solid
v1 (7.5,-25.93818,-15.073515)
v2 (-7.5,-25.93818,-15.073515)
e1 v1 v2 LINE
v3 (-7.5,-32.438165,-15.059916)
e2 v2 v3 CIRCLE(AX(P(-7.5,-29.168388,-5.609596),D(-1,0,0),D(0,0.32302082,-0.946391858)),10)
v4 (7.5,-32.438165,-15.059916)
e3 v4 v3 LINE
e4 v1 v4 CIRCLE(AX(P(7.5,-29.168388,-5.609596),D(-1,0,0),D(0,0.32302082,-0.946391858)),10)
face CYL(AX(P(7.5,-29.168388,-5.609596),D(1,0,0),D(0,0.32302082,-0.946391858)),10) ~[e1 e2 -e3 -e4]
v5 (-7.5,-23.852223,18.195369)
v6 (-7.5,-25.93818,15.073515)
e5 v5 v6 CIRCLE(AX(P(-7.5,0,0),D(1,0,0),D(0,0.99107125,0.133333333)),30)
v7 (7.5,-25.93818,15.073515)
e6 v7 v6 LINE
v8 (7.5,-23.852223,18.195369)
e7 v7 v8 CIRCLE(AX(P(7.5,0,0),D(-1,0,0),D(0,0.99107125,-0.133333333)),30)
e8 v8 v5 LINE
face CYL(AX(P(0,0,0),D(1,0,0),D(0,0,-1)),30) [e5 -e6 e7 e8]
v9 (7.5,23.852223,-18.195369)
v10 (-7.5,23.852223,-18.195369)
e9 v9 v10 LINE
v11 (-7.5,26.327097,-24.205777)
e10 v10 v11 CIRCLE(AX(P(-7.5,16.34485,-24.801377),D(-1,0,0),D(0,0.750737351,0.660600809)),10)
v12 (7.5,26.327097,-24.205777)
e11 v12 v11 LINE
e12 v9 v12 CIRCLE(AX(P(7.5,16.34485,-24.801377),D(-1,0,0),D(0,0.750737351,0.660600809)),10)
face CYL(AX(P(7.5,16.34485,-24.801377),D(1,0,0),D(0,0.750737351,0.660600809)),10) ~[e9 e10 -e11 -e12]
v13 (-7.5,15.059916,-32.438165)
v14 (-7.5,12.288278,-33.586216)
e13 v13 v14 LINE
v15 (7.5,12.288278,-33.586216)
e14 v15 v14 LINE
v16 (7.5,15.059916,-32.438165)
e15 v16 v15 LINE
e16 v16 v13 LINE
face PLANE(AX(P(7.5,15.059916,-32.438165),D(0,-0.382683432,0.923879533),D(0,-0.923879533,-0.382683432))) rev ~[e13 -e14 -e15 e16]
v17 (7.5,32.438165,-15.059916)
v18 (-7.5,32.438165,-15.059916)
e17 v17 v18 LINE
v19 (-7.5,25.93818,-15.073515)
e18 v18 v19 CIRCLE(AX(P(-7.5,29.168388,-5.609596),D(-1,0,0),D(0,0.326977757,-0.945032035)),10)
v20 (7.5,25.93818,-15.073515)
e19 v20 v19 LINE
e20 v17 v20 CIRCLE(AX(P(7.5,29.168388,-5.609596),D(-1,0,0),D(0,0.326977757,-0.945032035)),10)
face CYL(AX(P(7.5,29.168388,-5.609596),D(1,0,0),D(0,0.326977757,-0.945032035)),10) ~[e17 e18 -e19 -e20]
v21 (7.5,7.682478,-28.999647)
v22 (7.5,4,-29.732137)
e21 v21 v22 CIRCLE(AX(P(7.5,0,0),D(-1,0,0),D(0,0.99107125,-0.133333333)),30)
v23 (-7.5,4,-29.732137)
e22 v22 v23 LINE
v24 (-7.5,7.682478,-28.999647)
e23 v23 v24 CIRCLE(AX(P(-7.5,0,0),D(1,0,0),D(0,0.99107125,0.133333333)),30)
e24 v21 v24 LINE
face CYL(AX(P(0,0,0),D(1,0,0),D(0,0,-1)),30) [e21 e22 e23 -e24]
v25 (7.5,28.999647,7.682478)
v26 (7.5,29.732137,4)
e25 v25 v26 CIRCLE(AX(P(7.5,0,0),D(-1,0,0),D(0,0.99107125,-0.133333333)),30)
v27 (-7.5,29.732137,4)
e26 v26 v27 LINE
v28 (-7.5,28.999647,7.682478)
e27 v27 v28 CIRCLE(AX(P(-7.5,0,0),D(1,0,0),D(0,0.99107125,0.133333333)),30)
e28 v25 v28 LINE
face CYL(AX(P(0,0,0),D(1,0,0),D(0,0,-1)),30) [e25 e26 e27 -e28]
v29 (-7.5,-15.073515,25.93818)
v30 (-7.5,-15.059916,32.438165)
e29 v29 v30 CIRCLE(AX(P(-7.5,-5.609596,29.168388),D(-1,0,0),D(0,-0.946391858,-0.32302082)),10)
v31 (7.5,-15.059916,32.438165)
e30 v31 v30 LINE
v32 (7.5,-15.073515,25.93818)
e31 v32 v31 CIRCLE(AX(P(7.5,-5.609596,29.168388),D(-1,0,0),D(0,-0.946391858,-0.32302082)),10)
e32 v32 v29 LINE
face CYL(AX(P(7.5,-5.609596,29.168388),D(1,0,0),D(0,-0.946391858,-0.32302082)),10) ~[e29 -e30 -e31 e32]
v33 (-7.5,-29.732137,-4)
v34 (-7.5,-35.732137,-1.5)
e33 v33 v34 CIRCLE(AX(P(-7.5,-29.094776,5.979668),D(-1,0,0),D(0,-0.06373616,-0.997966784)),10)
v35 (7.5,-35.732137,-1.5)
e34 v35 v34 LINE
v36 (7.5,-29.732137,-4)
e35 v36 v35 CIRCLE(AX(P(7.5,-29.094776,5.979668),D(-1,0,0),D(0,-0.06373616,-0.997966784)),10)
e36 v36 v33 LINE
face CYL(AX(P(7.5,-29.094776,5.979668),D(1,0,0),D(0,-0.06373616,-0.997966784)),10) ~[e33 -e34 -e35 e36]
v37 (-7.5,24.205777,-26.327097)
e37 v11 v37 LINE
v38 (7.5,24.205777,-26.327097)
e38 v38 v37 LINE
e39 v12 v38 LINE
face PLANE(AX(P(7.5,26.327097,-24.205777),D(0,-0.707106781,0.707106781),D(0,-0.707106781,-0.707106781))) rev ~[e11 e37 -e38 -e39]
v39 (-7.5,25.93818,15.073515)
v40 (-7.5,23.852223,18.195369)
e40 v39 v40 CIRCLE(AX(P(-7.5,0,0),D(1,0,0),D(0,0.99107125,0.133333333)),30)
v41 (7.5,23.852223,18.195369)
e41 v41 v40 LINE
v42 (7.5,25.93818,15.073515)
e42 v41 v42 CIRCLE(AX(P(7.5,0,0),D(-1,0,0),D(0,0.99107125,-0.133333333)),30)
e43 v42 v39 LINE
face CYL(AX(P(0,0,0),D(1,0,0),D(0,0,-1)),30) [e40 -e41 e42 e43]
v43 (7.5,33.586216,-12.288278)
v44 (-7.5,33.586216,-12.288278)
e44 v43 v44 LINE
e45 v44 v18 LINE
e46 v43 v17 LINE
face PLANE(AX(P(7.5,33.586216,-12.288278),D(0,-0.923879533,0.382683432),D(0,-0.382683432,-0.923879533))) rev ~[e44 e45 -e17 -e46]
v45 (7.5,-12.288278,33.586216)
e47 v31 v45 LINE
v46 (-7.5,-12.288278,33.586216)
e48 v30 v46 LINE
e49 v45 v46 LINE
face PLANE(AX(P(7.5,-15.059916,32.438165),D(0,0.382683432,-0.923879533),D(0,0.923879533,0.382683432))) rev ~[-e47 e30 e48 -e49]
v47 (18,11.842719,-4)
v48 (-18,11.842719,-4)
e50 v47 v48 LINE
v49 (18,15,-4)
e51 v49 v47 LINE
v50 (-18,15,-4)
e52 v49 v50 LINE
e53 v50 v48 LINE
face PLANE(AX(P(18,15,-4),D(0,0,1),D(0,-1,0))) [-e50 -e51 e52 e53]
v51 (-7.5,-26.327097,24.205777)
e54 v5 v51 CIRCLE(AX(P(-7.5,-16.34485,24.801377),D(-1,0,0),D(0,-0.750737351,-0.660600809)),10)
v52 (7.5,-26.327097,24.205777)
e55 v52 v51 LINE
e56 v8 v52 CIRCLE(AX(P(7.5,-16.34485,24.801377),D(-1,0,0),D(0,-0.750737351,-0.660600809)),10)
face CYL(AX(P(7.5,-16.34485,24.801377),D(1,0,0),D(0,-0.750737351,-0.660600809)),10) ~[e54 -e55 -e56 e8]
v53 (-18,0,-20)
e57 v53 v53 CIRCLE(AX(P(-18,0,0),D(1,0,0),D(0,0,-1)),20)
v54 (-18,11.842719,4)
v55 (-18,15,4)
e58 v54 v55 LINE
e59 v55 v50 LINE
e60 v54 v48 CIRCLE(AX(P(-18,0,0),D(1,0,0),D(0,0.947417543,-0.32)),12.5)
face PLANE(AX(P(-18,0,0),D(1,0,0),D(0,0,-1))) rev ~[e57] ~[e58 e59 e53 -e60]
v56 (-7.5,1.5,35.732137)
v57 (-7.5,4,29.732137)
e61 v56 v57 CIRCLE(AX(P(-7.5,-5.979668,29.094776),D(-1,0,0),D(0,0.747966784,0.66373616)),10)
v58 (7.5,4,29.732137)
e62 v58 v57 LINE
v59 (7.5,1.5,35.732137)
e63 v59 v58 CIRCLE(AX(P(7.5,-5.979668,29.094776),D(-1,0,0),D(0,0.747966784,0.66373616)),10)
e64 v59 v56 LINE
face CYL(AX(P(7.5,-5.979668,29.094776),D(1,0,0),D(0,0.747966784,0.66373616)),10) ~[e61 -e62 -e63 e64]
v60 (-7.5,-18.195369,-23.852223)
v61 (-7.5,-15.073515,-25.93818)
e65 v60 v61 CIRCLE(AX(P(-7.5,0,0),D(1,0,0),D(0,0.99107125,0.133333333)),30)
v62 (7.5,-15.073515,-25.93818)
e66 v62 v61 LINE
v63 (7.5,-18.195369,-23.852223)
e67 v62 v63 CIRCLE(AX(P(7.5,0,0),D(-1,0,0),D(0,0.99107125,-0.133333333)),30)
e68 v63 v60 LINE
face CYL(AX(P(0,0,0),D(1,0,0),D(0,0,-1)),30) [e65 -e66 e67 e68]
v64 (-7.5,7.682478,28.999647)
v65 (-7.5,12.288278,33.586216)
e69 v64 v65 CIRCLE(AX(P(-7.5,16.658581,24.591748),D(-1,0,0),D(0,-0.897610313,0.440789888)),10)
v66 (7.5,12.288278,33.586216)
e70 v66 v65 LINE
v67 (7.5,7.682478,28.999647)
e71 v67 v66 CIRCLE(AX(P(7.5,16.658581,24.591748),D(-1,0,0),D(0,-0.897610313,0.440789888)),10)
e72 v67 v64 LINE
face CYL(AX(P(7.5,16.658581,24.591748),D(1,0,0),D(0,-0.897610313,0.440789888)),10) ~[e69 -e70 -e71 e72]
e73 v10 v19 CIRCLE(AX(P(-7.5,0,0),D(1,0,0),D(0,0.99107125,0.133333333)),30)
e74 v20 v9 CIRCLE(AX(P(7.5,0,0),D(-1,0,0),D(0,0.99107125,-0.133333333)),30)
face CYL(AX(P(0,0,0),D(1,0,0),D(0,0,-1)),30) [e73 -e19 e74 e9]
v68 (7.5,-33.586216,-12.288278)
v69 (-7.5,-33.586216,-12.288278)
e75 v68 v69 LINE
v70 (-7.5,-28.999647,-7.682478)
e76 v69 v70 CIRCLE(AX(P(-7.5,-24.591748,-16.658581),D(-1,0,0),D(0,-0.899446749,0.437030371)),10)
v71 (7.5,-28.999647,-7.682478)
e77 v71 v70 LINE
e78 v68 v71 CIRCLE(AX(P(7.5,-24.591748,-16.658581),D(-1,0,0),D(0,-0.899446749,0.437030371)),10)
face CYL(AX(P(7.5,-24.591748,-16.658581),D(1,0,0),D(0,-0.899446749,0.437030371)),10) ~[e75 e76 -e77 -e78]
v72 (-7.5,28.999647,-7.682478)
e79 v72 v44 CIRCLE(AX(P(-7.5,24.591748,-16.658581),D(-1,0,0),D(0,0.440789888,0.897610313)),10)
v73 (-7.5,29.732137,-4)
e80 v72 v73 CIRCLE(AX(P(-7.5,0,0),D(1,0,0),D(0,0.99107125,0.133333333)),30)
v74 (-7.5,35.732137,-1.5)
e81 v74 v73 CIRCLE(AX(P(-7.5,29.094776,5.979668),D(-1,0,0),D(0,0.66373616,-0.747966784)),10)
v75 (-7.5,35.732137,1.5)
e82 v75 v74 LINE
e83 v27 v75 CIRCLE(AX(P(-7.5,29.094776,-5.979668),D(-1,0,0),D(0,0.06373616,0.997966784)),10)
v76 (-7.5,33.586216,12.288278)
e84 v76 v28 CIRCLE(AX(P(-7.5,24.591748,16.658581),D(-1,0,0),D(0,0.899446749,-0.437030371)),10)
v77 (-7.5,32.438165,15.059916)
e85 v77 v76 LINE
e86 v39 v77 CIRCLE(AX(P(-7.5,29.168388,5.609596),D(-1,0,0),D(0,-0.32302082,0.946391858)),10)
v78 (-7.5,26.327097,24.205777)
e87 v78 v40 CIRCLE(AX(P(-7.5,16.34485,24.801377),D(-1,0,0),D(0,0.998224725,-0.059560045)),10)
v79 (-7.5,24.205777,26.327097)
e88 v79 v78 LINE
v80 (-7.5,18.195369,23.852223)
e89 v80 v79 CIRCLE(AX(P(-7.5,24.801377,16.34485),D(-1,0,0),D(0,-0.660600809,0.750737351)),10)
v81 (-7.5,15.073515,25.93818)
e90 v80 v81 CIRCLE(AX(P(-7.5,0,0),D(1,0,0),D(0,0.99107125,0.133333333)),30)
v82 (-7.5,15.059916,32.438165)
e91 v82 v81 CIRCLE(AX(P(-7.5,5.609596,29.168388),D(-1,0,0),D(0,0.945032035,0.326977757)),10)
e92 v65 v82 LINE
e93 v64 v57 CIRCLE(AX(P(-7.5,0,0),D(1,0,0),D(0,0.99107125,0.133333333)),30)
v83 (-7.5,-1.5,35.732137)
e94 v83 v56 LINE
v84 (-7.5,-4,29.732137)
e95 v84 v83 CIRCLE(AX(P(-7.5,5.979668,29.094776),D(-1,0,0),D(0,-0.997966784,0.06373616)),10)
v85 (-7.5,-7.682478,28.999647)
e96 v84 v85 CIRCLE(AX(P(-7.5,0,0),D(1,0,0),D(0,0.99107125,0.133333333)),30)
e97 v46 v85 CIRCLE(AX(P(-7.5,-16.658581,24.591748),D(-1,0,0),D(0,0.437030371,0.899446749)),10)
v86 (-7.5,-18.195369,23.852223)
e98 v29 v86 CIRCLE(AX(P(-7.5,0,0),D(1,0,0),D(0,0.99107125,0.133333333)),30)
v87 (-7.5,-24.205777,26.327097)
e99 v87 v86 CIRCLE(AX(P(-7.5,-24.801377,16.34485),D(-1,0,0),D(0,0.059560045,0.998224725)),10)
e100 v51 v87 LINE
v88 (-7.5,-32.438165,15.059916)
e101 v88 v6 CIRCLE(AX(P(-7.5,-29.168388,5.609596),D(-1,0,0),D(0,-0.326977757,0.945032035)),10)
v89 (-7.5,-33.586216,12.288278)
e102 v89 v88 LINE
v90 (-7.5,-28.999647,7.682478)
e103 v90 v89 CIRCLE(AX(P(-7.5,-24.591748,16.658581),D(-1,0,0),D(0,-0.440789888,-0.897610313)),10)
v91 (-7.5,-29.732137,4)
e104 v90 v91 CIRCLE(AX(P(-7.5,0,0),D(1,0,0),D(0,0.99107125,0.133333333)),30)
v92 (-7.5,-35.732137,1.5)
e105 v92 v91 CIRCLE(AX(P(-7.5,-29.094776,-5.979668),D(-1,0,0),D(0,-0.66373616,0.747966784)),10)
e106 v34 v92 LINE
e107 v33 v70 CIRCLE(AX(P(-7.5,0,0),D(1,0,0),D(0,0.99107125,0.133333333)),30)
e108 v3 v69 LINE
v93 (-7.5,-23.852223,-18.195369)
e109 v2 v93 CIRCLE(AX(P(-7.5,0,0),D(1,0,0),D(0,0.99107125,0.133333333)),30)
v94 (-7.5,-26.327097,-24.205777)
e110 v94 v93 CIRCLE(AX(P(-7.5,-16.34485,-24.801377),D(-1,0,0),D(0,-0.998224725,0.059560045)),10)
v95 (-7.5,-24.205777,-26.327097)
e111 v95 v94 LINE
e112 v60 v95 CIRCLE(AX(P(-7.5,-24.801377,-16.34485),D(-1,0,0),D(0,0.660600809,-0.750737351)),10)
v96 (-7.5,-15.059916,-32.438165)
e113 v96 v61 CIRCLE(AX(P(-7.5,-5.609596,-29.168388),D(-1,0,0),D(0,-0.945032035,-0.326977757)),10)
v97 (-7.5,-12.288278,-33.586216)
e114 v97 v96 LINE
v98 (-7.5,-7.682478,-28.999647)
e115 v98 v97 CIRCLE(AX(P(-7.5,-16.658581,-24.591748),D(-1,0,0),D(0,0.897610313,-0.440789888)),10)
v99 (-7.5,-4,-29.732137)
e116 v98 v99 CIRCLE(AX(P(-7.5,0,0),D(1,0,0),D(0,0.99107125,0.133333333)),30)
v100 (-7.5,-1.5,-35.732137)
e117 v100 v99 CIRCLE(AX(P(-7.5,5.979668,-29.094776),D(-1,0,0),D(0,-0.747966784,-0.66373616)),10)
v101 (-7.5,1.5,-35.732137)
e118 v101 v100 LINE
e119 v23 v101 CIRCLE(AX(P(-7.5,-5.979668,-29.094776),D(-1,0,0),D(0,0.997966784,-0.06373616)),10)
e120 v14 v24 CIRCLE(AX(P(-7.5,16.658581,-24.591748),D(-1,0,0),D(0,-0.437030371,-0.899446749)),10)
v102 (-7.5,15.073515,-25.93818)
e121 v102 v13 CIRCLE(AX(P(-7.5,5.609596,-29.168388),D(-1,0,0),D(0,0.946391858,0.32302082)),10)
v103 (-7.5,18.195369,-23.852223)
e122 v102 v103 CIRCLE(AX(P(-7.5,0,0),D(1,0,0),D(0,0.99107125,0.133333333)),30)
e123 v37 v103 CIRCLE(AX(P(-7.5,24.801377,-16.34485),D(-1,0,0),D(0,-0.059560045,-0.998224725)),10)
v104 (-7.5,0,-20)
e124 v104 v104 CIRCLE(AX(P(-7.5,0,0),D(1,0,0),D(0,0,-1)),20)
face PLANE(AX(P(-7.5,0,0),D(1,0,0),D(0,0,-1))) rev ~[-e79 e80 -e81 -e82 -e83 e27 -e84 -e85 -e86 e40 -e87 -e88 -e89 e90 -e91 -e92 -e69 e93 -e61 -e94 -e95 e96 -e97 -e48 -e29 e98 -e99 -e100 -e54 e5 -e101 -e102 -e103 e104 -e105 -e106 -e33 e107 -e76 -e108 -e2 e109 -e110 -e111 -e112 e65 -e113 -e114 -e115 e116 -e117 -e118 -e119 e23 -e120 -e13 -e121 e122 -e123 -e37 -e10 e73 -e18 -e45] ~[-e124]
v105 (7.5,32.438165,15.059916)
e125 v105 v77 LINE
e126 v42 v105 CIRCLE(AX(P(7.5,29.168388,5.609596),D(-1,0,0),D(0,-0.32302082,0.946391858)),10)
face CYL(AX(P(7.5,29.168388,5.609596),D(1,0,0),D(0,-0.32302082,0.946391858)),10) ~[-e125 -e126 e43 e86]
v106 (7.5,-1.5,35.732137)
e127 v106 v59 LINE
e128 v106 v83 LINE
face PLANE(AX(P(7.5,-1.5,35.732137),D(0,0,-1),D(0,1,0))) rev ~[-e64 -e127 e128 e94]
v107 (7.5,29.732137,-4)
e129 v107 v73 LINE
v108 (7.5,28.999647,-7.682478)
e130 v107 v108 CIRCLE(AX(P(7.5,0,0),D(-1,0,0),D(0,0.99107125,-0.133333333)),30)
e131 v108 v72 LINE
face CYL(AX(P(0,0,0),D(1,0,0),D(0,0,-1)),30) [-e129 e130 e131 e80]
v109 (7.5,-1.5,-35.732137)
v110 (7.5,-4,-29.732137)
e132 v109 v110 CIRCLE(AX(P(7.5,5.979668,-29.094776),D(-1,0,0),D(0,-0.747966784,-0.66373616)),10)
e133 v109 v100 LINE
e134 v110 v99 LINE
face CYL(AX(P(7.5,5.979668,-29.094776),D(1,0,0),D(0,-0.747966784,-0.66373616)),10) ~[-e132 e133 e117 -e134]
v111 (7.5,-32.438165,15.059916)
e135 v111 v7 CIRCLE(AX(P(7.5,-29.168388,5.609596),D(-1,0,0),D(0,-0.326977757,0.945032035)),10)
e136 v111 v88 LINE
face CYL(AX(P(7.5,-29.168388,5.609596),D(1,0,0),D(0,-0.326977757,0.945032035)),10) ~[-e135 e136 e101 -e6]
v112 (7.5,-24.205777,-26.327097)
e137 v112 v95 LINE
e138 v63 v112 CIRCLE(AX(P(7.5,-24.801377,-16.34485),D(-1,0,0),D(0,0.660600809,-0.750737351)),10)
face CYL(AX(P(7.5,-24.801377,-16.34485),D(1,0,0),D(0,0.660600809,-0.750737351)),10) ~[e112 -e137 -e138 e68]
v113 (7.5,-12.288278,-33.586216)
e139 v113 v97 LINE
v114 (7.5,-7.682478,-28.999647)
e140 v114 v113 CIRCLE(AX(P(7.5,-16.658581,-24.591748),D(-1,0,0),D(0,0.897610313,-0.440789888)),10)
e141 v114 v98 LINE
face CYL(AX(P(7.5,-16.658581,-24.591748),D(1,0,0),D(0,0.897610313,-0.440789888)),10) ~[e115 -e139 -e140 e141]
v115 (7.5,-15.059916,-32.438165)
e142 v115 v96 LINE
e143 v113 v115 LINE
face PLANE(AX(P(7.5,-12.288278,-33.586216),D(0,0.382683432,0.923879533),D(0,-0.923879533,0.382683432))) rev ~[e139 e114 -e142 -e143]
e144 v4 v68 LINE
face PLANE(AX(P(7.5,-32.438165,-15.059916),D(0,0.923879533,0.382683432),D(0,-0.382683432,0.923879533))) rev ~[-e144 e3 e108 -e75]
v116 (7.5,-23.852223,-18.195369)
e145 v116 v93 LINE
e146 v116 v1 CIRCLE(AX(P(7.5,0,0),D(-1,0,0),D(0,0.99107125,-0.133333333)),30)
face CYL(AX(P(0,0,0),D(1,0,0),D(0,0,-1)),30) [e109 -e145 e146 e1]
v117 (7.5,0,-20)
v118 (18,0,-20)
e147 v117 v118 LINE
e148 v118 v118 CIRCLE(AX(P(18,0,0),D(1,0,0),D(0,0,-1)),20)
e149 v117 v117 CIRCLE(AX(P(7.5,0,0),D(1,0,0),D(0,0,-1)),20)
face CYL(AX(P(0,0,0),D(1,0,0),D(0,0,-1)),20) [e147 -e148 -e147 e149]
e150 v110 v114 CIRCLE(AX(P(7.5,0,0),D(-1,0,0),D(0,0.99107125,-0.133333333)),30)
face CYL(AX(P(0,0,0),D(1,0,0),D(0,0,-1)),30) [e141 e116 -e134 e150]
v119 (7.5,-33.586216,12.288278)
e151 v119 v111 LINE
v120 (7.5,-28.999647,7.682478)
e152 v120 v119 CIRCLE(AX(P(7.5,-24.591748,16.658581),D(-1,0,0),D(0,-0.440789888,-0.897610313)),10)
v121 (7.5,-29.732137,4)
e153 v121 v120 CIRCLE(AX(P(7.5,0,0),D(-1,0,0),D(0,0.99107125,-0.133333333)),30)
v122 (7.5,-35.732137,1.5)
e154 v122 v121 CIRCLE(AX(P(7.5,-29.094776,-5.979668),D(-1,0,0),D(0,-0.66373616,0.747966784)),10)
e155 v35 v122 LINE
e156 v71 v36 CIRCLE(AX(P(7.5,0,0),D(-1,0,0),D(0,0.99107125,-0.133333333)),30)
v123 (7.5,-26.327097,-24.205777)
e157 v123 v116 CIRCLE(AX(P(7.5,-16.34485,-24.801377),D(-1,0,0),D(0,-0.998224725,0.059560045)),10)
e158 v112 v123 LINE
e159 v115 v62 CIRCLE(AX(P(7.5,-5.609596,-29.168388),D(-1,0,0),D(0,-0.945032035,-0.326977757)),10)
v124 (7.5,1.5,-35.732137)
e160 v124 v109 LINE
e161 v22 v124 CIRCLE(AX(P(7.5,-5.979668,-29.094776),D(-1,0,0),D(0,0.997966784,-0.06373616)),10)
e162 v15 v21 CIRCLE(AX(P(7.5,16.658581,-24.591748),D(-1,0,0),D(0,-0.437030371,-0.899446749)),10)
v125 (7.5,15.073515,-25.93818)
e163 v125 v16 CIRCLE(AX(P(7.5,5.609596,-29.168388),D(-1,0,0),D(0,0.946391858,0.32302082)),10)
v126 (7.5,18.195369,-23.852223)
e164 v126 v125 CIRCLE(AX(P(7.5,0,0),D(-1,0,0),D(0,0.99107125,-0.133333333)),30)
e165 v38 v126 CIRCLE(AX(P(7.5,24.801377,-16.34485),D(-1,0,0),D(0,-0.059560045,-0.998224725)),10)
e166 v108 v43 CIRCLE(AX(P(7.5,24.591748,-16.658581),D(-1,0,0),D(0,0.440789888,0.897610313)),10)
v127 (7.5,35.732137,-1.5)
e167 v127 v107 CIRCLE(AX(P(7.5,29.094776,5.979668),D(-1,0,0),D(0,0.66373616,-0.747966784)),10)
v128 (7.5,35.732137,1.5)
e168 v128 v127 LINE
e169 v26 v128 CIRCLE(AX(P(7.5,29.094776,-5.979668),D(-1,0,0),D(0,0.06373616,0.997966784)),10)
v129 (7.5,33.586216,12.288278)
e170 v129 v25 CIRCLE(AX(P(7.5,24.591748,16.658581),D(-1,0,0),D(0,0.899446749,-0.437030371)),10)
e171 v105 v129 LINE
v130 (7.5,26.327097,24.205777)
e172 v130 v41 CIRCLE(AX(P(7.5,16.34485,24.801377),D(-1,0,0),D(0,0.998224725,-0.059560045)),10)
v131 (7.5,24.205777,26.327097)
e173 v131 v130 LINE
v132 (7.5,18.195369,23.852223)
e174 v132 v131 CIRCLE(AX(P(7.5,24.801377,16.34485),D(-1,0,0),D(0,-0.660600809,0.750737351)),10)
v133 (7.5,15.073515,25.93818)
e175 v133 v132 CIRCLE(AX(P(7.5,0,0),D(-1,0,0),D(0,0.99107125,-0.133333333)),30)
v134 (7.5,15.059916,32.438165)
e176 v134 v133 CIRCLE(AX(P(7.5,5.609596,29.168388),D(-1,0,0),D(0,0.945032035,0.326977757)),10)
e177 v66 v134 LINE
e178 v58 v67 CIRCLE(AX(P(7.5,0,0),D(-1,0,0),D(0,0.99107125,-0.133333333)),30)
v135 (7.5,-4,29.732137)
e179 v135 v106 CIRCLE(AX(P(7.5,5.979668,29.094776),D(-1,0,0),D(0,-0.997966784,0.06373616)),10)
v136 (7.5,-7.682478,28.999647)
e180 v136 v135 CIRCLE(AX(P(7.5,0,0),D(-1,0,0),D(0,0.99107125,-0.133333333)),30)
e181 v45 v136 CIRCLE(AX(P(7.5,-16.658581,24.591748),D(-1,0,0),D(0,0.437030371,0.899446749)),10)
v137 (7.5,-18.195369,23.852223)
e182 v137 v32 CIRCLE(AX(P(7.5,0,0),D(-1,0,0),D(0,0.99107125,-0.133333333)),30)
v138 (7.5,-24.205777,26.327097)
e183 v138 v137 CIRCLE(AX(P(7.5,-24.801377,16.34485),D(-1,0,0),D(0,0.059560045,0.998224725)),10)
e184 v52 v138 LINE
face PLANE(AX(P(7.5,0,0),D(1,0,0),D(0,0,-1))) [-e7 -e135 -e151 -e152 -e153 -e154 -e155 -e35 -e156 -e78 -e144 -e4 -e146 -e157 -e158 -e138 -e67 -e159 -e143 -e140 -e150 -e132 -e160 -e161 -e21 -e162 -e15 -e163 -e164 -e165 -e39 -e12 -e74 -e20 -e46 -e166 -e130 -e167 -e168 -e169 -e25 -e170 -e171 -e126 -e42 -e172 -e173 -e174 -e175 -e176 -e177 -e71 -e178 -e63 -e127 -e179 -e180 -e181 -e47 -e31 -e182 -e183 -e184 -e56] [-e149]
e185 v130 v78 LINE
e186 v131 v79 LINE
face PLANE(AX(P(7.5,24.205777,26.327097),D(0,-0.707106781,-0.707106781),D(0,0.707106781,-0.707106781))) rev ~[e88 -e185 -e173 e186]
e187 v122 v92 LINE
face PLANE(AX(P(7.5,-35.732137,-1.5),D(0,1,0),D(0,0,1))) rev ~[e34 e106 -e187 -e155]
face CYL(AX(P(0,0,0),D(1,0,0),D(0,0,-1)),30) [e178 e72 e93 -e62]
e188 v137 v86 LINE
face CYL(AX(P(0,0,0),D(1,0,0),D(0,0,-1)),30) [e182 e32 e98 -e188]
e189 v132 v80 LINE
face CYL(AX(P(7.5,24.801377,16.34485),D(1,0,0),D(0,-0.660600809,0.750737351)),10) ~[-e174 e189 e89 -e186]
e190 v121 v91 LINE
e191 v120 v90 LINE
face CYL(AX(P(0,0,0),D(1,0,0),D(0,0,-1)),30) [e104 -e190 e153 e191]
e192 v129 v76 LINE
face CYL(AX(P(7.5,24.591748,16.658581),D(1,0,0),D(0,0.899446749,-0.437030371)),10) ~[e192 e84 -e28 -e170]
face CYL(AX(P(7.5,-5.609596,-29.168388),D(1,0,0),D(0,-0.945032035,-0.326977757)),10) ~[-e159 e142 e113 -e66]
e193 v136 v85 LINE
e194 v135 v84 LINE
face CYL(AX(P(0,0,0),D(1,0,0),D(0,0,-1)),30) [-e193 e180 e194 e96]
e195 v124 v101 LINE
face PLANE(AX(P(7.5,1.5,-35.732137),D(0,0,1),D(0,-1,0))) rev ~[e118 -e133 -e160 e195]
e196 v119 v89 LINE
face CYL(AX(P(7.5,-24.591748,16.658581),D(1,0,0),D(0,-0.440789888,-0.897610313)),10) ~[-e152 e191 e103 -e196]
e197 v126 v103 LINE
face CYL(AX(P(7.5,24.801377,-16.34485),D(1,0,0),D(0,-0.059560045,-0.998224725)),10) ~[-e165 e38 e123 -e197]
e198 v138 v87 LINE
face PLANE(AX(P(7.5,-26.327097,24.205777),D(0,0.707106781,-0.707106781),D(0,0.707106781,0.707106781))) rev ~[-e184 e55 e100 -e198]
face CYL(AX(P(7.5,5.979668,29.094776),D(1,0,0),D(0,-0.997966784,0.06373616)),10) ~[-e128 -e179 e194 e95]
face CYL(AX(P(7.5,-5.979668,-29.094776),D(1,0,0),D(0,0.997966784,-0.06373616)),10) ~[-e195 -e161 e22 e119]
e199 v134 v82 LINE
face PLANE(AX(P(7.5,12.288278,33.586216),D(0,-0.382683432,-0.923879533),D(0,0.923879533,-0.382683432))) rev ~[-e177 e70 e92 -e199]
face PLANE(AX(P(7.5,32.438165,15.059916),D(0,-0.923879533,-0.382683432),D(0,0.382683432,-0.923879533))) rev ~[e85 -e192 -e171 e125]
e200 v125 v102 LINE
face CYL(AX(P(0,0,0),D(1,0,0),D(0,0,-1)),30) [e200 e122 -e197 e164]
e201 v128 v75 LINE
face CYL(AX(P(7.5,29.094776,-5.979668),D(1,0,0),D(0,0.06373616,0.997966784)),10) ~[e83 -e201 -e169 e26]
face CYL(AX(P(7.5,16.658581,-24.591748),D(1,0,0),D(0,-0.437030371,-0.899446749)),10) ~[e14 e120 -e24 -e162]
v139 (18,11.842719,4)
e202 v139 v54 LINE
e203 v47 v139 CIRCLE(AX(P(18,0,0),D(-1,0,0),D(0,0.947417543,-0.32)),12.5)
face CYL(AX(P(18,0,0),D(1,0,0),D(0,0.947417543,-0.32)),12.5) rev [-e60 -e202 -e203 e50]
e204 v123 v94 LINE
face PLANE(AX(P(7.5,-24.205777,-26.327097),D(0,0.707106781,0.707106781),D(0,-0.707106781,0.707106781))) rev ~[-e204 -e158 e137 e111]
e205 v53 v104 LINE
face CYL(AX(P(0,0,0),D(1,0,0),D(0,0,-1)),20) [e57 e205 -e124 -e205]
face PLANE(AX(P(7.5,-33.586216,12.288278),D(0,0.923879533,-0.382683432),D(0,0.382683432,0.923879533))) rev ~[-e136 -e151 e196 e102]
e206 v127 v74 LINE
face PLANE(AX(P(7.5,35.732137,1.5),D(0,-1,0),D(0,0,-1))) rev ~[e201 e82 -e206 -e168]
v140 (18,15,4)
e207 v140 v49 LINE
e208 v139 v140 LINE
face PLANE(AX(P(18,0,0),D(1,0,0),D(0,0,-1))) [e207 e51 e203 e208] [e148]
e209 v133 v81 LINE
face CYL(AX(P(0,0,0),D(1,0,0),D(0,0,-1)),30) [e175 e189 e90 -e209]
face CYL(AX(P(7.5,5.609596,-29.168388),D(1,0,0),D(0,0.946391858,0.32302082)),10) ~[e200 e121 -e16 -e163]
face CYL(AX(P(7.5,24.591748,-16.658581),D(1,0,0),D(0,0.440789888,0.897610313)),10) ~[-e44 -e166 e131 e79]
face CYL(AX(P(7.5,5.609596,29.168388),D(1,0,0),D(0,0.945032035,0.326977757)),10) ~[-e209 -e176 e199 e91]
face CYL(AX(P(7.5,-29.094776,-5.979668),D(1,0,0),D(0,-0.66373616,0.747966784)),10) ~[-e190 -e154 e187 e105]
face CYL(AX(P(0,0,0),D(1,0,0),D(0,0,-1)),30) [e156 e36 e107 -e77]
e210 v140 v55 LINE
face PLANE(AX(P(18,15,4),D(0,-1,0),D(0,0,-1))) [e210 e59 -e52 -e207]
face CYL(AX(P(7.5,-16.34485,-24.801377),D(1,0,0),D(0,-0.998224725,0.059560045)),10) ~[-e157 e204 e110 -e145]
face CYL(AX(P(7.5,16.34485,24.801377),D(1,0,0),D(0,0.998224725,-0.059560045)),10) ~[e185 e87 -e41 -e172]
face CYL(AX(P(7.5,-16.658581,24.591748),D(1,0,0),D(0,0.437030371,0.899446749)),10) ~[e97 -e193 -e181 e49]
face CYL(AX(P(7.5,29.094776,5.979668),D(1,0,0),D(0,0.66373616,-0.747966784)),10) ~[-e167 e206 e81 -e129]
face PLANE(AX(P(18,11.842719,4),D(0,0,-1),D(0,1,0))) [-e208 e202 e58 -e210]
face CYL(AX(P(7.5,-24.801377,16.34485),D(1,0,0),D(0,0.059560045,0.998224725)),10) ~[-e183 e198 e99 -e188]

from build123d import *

# Parameters (mm, degrees)
SKETCH1_R           = 30
BOSS_EXTRUDE1_DEPTH = 7.5
BOSS_EXTRUDE2_DEPTH = 15
CIRPATTERN1_COUNT   = 16
SKETCH3_R           = 20
BOSS_EXTRUDE3_DEPTH = 18
CUT_EXTRUDE1_DEPTH  = 63.04491357


with BuildPart() as part:
    # Sketch1 → Boss-Extrude1 (new, symmetric)
    with BuildSketch(Plane(origin=(0, 0, 0), x_dir=(0, 0, -1), z_dir=(1, 0, 0))):
        Circle(SKETCH1_R)
    extrude(amount=BOSS_EXTRUDE1_DEPTH, both=True)

    # Sketch2 → Boss-Extrude2 (add)
    with BuildSketch(Plane(origin=(7.5, 0, 0), x_dir=(0, 0, -1), z_dir=(1, 0, 0))):
        with BuildLine():
            Line((-1.5, 35.732137495), (1.5, 35.732137495))
            ThreePointArc((1.5, 35.732137495), (3.251101391, 32.940929741), (4, 29.732137495))
            ThreePointArc((4, 29.732137495), (0, 30), (-4, 29.732137495))
            ThreePointArc((-4, 29.732137495), (-3.251101391, 32.940929741), (-1.5, 35.732137495))
        make_face()
    boss_extrude2 = extrude(amount=-BOSS_EXTRUDE2_DEPTH)

    # CirPattern1: Boss-Extrude2 ×16 about axis
    cirpattern1_axis = Axis((0, 0, 0), (1, 0, 0))
    for i in range(1, CIRPATTERN1_COUNT):
        add(boss_extrude2.rotate(cirpattern1_axis, i * 360 / CIRPATTERN1_COUNT))

    # Sketch3 → Boss-Extrude3 (add, symmetric)
    with BuildSketch(Plane(origin=(0, 0, 0), x_dir=(0, 0, -1), z_dir=(1, 0, 0))):
        Circle(SKETCH3_R)
    extrude(amount=BOSS_EXTRUDE3_DEPTH, both=True)

    # Sketch4 → Cut-Extrude1 (cut, through all)
    with BuildSketch(Plane(origin=(18, 0, 0), x_dir=(0, 0, -1), z_dir=(1, 0, 0))):
        with BuildLine():
            Line((-4, 15), (4, 15))
            Line((4, 15), (4, 11.842719282))
            ThreePointArc((4, 11.842719282), (0, -12.5), (-4, 11.842719282))
            Line((-4, 11.842719282), (-4, 15))
        make_face()
    extrude(amount=-CUT_EXTRUDE1_DEPTH, mode=Mode.SUBTRACT)


solid = part.part
